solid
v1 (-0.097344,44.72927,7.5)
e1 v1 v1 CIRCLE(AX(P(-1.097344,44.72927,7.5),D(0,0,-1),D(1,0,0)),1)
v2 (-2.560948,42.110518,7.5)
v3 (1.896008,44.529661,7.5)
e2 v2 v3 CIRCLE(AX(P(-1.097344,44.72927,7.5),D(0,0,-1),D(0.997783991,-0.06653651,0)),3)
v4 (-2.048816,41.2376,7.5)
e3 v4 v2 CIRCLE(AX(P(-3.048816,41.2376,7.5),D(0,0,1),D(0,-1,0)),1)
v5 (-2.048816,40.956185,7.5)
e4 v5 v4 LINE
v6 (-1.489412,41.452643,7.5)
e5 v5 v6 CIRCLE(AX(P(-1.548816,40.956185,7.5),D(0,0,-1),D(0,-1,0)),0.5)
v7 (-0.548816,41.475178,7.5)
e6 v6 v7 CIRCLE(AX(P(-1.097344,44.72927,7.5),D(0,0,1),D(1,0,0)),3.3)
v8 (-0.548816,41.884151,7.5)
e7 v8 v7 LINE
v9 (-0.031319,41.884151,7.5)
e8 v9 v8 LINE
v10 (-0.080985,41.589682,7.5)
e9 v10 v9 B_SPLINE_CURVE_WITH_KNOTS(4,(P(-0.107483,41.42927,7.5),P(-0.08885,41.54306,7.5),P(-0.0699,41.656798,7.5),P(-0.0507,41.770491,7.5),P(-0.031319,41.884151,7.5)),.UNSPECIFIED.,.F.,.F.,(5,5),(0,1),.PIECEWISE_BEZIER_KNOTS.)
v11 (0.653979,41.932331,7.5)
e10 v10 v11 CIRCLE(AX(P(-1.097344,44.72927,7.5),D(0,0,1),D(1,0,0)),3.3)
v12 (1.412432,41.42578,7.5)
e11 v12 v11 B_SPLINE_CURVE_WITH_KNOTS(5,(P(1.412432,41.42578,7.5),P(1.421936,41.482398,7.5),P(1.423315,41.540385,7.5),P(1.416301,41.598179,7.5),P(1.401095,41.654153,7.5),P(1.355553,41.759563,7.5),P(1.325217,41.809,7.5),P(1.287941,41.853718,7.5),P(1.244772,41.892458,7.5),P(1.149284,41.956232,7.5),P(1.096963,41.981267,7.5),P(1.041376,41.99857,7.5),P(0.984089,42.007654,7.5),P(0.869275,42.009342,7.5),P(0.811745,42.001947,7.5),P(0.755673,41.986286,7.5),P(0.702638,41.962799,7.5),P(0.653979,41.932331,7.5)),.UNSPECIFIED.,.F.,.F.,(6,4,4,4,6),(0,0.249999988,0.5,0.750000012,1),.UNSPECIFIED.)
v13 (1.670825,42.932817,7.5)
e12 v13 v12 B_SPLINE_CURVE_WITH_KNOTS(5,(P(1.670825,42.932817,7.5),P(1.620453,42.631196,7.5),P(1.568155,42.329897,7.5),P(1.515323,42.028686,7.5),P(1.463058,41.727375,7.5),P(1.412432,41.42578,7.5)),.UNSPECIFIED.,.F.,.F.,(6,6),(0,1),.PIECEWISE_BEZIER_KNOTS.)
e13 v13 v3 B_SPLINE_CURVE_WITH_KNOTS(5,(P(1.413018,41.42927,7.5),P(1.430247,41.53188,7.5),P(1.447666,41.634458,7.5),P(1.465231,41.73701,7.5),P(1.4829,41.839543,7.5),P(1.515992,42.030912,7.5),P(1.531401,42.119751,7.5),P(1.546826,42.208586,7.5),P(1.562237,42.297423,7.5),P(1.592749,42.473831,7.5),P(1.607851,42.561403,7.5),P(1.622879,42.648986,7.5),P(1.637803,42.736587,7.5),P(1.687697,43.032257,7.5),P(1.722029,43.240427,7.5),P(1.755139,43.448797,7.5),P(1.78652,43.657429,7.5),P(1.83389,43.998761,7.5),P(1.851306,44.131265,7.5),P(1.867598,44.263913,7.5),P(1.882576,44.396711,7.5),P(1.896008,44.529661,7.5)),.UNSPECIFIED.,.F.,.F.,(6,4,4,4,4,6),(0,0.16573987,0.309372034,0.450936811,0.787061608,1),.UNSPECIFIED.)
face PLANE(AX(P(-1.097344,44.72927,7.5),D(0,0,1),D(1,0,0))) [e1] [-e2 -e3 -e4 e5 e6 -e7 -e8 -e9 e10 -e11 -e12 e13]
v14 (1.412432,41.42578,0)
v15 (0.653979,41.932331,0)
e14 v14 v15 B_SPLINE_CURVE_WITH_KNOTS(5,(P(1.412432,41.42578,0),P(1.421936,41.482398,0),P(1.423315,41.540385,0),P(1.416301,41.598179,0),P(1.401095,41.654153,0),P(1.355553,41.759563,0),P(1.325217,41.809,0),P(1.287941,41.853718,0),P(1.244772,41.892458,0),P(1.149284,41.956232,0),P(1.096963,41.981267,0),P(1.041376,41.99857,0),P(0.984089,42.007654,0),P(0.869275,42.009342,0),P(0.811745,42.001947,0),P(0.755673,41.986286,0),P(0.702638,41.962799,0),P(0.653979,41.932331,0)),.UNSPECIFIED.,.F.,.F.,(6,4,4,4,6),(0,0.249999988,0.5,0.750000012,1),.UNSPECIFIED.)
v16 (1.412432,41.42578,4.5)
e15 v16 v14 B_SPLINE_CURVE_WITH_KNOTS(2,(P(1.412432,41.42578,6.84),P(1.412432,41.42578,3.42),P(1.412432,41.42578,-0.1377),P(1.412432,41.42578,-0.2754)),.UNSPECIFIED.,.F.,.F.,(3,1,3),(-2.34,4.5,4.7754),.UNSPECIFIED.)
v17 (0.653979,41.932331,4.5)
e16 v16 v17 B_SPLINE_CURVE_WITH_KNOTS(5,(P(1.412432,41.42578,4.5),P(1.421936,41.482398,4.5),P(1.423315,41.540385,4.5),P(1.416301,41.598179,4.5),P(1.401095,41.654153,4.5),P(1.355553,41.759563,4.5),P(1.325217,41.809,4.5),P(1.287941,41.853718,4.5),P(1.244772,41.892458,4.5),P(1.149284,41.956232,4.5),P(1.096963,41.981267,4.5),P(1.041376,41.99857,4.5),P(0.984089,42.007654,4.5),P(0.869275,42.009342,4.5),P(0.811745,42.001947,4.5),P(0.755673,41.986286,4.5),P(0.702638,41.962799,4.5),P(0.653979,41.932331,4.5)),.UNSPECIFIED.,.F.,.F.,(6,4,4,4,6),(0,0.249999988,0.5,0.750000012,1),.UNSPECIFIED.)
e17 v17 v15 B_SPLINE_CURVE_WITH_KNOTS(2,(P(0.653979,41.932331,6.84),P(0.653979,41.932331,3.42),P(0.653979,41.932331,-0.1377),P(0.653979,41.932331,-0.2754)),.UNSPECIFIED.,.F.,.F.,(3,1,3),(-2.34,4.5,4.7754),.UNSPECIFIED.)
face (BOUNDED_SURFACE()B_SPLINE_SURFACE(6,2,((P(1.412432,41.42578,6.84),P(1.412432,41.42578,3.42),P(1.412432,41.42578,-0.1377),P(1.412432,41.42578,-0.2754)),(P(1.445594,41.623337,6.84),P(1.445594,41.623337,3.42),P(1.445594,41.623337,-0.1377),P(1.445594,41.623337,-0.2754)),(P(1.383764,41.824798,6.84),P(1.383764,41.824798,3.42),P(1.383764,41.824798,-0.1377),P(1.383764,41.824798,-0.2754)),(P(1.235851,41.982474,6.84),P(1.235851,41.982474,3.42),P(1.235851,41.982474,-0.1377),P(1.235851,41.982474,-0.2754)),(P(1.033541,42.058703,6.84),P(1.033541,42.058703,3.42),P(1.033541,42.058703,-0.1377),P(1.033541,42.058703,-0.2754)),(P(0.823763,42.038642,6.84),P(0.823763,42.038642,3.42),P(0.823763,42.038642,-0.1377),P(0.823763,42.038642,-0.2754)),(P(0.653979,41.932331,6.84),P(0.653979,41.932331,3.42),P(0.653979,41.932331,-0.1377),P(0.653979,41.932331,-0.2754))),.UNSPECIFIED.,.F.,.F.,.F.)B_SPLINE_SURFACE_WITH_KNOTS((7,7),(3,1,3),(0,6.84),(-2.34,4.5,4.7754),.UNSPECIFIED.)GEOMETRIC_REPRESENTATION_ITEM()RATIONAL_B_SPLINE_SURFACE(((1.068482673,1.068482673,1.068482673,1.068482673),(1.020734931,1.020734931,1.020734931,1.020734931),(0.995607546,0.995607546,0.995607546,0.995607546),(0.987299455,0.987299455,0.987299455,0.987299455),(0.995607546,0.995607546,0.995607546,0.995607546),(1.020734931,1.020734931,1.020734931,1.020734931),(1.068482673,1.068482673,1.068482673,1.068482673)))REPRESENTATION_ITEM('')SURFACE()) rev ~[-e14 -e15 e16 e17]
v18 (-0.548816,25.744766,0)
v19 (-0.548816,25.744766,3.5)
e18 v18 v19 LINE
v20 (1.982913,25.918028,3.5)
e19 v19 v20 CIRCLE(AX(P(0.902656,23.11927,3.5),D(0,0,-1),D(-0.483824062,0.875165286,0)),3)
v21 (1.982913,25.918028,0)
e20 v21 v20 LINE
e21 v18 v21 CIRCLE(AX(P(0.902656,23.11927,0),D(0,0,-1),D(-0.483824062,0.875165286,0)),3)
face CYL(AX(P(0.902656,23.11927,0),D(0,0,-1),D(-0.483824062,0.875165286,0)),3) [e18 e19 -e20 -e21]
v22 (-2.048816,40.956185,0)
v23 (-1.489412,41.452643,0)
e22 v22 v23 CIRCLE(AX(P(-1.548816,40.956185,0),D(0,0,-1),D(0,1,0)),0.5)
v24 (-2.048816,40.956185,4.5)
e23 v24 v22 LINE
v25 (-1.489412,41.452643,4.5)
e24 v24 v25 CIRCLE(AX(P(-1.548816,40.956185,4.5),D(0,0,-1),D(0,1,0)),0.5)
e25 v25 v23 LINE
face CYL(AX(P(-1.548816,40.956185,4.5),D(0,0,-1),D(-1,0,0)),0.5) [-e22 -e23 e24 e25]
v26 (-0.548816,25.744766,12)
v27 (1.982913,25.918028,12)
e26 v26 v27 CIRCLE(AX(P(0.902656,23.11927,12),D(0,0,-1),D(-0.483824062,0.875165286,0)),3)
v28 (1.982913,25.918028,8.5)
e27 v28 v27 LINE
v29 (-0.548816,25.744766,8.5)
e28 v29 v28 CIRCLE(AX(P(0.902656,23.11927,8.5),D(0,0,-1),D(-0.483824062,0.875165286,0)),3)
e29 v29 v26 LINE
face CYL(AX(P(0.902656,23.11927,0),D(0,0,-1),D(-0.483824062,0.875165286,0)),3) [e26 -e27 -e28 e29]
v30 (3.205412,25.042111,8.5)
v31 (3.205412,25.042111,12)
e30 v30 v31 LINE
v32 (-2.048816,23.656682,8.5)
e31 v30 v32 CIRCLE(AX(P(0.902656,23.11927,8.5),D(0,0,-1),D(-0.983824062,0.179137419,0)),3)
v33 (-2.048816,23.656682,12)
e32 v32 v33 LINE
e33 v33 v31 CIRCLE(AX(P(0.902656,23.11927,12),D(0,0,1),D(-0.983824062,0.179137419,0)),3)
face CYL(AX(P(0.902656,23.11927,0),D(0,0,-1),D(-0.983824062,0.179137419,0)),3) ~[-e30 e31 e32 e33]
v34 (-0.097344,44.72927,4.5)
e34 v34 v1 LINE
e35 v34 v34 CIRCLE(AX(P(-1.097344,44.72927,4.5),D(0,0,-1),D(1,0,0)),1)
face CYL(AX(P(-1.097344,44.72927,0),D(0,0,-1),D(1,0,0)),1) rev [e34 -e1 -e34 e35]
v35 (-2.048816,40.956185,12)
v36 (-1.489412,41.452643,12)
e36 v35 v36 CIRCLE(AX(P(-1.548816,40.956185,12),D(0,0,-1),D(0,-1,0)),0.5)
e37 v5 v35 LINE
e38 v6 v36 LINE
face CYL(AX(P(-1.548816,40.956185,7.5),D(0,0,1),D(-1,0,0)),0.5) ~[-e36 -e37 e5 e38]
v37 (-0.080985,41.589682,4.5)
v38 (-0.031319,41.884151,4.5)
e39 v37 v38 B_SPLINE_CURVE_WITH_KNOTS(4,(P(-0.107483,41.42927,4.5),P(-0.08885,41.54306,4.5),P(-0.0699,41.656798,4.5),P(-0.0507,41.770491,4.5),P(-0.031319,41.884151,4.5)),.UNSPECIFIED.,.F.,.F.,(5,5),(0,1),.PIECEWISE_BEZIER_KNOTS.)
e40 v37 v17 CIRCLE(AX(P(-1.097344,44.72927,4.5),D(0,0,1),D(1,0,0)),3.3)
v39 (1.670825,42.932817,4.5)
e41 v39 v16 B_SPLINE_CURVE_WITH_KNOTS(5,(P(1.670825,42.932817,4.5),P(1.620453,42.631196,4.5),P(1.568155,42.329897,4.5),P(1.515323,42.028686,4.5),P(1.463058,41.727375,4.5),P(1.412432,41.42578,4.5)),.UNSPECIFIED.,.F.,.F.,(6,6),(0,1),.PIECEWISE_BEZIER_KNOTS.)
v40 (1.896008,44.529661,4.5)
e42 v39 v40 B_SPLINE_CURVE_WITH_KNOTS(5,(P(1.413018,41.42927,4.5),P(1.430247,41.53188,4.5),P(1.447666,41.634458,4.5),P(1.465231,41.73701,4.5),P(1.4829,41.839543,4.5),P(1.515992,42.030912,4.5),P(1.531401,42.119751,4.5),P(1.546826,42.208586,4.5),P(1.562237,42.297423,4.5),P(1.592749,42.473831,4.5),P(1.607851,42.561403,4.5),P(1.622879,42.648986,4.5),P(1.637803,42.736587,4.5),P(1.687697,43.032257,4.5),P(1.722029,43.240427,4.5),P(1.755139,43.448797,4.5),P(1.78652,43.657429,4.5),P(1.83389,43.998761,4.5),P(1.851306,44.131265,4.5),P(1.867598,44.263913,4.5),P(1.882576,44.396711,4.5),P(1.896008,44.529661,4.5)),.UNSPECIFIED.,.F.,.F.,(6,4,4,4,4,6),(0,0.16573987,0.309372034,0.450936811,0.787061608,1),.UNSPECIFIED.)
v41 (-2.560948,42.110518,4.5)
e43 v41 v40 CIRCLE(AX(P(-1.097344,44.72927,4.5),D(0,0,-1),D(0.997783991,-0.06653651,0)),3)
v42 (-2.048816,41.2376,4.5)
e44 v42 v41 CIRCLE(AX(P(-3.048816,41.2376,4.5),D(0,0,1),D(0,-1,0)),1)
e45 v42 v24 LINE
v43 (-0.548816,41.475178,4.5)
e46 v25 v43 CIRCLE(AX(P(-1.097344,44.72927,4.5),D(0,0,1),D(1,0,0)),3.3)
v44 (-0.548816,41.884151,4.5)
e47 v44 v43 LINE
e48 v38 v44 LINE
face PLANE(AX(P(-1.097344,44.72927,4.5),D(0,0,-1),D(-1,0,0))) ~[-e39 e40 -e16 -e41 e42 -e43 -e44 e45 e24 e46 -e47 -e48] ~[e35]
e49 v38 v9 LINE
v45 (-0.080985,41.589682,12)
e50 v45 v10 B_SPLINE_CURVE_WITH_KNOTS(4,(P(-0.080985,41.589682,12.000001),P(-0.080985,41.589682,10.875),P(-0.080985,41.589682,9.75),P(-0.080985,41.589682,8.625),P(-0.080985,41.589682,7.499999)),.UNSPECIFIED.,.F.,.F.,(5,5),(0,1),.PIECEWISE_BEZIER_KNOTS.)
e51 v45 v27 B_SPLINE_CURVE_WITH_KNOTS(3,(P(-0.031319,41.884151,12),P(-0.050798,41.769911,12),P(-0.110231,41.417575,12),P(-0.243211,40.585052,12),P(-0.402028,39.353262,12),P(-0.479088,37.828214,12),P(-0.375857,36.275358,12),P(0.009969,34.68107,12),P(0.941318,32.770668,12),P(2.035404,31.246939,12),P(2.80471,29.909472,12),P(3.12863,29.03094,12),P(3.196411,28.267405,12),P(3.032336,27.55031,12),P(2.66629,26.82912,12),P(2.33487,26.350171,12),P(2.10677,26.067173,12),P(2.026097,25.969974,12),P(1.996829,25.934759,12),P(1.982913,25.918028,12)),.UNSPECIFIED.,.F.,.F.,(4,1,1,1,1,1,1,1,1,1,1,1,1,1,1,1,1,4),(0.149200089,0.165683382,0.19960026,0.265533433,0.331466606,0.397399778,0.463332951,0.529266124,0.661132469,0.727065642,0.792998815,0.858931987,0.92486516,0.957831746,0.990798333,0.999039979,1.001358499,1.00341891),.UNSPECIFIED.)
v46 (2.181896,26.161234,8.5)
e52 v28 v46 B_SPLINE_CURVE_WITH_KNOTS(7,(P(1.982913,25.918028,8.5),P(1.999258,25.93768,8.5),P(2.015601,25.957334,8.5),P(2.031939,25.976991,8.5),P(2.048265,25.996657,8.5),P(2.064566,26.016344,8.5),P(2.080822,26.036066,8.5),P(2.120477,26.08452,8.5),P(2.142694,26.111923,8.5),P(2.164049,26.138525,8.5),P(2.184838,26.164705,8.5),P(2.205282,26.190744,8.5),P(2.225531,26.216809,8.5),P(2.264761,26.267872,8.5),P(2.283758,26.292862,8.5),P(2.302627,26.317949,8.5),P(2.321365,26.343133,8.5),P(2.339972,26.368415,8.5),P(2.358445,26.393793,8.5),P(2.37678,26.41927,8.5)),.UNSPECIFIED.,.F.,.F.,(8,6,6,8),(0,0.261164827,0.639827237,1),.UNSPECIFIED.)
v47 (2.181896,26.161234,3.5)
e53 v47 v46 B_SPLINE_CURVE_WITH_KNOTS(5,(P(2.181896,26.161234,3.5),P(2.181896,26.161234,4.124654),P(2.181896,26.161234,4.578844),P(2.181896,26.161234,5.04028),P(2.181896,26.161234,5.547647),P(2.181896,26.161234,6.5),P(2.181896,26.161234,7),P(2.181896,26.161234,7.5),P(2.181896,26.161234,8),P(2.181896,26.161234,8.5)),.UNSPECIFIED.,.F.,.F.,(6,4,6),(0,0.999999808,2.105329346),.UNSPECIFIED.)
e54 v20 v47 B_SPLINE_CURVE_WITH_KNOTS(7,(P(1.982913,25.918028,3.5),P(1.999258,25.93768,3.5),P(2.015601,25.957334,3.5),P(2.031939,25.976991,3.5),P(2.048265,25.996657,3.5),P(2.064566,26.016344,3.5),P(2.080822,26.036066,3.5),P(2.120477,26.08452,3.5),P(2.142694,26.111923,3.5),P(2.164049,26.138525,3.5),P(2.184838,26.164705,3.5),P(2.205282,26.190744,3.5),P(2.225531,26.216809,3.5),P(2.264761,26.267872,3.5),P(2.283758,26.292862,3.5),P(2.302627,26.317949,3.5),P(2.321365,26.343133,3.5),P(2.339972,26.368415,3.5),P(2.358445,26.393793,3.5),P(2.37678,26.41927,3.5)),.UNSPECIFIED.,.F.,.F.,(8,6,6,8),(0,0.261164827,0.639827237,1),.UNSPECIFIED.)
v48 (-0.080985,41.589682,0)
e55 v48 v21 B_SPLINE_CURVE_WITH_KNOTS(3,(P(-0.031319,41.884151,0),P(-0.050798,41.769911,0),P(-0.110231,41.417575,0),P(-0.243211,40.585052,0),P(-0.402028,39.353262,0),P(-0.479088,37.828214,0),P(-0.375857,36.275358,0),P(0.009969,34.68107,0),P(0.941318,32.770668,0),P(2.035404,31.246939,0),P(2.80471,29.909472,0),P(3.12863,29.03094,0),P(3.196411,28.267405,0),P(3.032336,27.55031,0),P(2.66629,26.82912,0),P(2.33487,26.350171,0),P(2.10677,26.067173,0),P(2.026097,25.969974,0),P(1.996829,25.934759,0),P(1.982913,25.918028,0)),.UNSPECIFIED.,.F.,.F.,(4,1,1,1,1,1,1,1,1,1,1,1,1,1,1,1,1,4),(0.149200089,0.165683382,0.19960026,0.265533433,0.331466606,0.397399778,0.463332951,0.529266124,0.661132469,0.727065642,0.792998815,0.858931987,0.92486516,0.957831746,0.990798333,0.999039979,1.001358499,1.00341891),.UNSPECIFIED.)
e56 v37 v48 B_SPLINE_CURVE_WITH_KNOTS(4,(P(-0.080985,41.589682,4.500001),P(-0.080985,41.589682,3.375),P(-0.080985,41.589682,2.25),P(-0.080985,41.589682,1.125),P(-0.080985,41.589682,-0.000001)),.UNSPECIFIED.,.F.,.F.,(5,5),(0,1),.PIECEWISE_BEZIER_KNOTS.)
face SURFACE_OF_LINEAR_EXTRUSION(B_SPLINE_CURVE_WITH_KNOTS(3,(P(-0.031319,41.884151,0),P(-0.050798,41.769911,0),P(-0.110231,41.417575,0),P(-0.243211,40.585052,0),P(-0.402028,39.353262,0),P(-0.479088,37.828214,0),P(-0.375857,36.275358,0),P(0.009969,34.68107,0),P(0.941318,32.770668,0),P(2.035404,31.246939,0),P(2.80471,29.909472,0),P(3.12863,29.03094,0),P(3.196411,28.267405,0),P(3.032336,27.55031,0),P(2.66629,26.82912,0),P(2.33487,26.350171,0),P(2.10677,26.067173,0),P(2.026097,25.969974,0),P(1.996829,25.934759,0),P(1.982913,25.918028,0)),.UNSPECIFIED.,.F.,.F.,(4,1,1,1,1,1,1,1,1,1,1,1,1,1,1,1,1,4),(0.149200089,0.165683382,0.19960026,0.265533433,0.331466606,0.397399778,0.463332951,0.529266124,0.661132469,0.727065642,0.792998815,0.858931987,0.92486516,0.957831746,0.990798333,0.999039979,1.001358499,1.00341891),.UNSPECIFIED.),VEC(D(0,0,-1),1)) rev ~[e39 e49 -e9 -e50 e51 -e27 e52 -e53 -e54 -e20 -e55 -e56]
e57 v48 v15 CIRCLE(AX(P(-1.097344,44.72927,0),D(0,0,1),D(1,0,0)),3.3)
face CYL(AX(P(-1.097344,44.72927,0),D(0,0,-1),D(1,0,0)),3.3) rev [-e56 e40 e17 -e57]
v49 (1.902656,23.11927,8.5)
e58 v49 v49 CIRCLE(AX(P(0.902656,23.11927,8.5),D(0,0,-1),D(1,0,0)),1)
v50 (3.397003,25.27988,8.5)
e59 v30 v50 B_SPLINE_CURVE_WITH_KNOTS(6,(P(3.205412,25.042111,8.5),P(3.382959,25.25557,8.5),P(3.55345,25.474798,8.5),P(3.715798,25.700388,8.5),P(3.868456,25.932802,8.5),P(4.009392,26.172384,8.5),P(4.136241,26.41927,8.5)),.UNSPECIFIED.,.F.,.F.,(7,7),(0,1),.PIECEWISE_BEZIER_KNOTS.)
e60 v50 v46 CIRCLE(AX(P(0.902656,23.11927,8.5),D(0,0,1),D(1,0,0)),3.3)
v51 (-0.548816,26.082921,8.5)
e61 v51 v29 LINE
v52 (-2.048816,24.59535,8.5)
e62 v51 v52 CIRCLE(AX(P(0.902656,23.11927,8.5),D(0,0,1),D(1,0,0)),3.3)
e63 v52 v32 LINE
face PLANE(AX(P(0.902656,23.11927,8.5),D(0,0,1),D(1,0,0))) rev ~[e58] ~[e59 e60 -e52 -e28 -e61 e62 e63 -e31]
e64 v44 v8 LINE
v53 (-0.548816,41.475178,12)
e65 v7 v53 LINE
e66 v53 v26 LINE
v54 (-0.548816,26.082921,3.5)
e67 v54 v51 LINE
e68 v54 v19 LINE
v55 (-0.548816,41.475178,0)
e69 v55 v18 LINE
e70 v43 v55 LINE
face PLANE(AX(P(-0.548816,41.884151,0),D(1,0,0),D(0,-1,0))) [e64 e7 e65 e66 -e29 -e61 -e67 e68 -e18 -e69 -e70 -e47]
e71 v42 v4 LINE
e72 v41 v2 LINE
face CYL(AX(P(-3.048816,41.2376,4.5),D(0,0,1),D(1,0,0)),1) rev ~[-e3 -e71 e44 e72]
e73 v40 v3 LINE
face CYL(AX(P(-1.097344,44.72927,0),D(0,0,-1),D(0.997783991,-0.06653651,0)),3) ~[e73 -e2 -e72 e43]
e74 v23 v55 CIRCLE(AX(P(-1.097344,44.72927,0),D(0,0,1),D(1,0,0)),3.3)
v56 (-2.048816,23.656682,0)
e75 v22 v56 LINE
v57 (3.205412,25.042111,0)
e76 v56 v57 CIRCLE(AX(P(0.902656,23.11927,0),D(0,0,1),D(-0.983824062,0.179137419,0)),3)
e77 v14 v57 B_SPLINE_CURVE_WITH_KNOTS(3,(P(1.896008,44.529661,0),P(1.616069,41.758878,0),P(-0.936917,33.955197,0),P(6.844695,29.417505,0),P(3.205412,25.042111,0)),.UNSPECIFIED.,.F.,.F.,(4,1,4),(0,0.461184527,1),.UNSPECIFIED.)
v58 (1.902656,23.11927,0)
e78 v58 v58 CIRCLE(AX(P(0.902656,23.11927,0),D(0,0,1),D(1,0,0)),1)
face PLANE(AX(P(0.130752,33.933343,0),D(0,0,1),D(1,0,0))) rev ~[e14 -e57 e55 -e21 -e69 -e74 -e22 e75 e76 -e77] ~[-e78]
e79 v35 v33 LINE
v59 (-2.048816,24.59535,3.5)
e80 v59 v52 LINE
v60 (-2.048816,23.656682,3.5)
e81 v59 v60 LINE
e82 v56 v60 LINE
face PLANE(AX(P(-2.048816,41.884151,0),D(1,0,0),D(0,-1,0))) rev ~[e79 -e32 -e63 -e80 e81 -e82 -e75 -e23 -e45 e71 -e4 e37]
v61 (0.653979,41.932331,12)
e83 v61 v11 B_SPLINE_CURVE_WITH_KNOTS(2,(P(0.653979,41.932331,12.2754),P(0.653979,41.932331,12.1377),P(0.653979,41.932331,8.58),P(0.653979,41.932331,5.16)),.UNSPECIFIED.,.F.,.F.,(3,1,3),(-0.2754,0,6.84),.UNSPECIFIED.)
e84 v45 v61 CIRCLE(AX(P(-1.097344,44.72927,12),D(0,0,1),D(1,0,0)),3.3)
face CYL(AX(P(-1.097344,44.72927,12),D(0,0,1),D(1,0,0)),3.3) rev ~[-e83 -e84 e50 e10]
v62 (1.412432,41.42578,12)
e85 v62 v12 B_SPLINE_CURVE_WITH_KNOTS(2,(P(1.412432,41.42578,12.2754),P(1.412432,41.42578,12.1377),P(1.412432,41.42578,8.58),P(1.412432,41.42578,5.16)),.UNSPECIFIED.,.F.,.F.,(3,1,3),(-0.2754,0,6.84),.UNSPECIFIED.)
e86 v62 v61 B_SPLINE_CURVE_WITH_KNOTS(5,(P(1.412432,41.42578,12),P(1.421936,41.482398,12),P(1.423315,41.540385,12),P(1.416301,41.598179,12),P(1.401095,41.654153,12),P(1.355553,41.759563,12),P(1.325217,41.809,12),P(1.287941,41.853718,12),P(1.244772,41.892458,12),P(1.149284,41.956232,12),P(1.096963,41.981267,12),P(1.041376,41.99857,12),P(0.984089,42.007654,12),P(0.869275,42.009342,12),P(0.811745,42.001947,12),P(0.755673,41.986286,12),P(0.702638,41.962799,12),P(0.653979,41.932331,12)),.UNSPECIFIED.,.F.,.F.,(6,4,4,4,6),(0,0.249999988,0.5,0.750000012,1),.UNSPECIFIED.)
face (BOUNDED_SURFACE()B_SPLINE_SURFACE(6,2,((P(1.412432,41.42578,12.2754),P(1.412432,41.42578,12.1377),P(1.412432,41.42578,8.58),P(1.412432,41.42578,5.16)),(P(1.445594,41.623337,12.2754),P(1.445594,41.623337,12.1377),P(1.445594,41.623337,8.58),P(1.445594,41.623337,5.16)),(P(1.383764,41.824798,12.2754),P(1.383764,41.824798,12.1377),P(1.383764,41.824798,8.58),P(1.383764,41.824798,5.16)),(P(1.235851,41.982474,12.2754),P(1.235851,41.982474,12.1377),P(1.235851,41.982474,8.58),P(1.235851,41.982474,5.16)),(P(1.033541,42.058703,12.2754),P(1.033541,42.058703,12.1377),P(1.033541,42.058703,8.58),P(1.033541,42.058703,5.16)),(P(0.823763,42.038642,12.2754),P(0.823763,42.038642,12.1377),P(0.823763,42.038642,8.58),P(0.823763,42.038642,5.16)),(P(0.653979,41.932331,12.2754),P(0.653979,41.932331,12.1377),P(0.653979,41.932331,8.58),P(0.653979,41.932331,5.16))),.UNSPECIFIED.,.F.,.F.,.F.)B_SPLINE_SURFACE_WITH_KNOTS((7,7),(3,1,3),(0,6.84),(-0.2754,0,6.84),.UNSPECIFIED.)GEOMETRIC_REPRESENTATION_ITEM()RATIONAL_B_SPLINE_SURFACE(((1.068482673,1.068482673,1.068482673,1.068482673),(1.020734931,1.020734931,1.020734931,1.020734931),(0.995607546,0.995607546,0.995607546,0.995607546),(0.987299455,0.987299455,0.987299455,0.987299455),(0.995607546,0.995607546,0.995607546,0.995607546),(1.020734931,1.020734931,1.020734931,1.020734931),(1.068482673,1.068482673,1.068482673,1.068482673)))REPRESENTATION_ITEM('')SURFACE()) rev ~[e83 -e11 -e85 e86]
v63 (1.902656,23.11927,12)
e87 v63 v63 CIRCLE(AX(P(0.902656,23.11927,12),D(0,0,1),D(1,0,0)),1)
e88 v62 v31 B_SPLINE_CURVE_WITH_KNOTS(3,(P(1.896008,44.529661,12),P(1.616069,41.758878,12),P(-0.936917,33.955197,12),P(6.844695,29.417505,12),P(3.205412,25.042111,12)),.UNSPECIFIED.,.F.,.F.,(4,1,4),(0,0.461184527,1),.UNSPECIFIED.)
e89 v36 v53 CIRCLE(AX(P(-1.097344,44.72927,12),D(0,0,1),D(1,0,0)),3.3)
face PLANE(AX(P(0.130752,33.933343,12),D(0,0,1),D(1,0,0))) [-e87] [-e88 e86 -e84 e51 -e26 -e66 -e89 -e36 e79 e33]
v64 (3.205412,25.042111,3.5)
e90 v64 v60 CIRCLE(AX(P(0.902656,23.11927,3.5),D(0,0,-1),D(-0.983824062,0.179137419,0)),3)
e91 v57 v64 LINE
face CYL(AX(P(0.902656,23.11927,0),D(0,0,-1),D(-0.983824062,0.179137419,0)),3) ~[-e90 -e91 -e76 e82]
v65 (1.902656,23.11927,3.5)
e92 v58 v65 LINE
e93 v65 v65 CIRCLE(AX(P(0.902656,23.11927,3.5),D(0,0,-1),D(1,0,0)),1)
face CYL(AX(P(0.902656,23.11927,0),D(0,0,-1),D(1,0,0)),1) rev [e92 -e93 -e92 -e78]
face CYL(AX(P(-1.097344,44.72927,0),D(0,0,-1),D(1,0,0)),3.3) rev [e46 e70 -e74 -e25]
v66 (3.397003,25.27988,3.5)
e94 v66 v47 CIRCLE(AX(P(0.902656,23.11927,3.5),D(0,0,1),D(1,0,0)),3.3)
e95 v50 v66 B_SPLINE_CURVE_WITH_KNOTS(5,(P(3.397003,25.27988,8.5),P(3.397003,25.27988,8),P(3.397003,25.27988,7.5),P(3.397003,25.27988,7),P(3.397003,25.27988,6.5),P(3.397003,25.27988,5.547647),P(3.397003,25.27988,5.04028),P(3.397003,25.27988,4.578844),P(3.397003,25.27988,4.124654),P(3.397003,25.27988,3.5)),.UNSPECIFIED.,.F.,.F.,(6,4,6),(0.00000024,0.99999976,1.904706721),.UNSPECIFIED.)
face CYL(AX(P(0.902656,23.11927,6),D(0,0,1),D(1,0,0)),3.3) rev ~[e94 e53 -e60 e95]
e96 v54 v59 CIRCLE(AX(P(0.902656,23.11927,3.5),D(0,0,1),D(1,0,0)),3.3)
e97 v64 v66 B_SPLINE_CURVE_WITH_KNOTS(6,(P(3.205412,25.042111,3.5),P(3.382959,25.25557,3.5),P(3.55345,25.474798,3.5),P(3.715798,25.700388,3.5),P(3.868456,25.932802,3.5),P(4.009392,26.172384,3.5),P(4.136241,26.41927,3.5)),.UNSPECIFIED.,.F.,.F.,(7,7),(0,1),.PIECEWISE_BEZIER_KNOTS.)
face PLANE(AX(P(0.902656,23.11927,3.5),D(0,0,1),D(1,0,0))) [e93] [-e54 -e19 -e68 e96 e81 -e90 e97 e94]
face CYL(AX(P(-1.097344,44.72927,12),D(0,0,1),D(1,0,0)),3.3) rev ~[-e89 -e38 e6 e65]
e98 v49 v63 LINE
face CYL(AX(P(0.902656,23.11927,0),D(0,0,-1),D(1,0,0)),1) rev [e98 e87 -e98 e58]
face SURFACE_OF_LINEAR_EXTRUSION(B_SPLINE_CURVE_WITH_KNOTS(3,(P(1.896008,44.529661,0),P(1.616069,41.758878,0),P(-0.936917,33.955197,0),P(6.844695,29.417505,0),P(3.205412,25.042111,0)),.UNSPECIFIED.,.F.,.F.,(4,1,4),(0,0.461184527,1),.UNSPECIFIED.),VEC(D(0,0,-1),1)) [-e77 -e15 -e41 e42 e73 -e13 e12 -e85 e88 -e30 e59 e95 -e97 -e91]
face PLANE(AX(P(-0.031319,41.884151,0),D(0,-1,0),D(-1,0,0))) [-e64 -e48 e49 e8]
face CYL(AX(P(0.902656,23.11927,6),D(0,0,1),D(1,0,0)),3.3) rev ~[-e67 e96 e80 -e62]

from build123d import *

# Parameters (mm, degrees)
SKETCH1_R               = 1
BOSS_EXTRUDE1_DEPTH     = 12
SKETCH2_R               = 3.3
CUT_EXTRUDE1_DEPTH      = 4.5
SKETCH3_R               = 3.3
CUT_EXTRUDE2_DEPTH      = 2.5
CUT_EXTRUDE2_DEPTH_BACK = 2.5
FILLET1_R               = 0.5
FILLET2_R               = 1


with BuildPart() as part:
    # Sketch1 → Boss-Extrude1 (new body)
    with BuildSketch(Plane.XY):
        with BuildLine():
            Line((-2.048815827, 41.884151299), (-2.048815827, 23.656682303))
            ThreePointArc((-2.048815827, 23.656682303), (1.66754925, 20.218418642), (3.205412143, 25.042110601))
            add(Edge.make_bspline(
                [(1.896008332, 44.529660516), (1.616069448, 41.758878479), (-0.936917255, 33.955197005), (6.844694938, 29.417505011), (3.205412143, 25.042110601)],
                knots=[0, 0, 0, 0, 0.461184527, 1, 1, 1, 1], degree=3))
            ThreePointArc((1.896008332, 44.529660516), (-2.768270934, 47.220856283), (-2.048815827, 41.884151299))
        make_face()
        with Locations((-1.097343641, 44.729270045)):
            Circle(SKETCH1_R, mode=Mode.SUBTRACT)
        with Locations((0.902656359, 23.119270045)):
            Circle(SKETCH1_R, mode=Mode.SUBTRACT)
        with BuildLine():
            Line((-0.031319306, 41.884151299), (-0.548815827, 41.884151299))
            Line((-0.548815827, 41.884151299), (-0.548815827, 25.744765902))
            ThreePointArc((-0.548815827, 25.744765902), (0.697826573, 26.112269337), (1.982912704, 25.918028026))
            add(Edge.make_bspline(
                [(-0.031319306, 41.884151299), (-0.050798368, 41.769911378), (-0.110231132, 41.41757497), (-0.243210983, 40.585051968), (-0.402027872, 39.353261852), (-0.479087992, 37.828213551), (-0.375856847, 36.275358456), (0.009969142, 34.681069755), (0.941317901, 32.770668216), (2.035404053, 31.246938586), (2.80471042, 29.909471533), (3.128629571, 29.030940173), (3.19641087, 28.267404516), (3.032335606, 27.550309668), (2.666289508, 26.829120101), (2.334869511, 26.350170873), (2.106769915, 26.067173099), (2.026097439, 25.969974031), (1.996829195, 25.934759382), (1.982912704, 25.918028026)],
                knots=[0.149200089, 0.149200089, 0.149200089, 0.149200089, 0.165683382, 0.19960026, 0.265533433, 0.331466606, 0.397399778, 0.463332951, 0.529266124, 0.661132469, 0.727065642, 0.792998815, 0.858931987, 0.92486516, 0.957831746, 0.990798333, 0.999039979, 1.001358499, 1.00341891, 1.00341891, 1.00341891, 1.00341891], degree=3))
        make_face(mode=Mode.SUBTRACT)
    extrude(amount=BOSS_EXTRUDE1_DEPTH)

    # Sketch2 → Cut-Extrude1 (cut)
    with BuildSketch(Plane.XY.offset(12)):
        with Locations((-1.097343641, 44.729270045)):
            Circle(SKETCH2_R)
    cut_extrude1 = extrude(amount=-CUT_EXTRUDE1_DEPTH, mode=Mode.SUBTRACT)

    # Mirror1: Cut-Extrude1 across plane
    add(cut_extrude1.mirror(Plane.XY.offset(6)), mode=Mode.SUBTRACT)

    # Sketch3 → Cut-Extrude2 (cut, two sides)
    with BuildSketch(Plane.XY.offset(6)) as cut_extrude2_sk:
        with Locations((0.902656359, 23.119270045)):
            Circle(SKETCH3_R)
    extrude(amount=CUT_EXTRUDE2_DEPTH, mode=Mode.SUBTRACT)
    extrude(cut_extrude2_sk.sketch, amount=-CUT_EXTRUDE2_DEPTH_BACK, mode=Mode.SUBTRACT)

    # Fillet1
    fillet1_edges = [part.edges().sort_by_distance(p)[0] for p in [
        (1.670824854, 42.932817101, 9.75),
        (-2.048815827, 41.569412346, 9.75),
        (1.670824854, 42.932817101, 2.25),
        (-2.048815827, 41.569412346, 2.25),
    ]]
    fillet(fillet1_edges, radius=FILLET1_R)

    # Fillet2
    fillet2_edges = [part.edges().sort_by_distance(p)[0] for p in [
        (-2.048815827, 41.884151299, 6),
    ]]
    fillet(fillet2_edges, radius=FILLET2_R)


solid = part.part
